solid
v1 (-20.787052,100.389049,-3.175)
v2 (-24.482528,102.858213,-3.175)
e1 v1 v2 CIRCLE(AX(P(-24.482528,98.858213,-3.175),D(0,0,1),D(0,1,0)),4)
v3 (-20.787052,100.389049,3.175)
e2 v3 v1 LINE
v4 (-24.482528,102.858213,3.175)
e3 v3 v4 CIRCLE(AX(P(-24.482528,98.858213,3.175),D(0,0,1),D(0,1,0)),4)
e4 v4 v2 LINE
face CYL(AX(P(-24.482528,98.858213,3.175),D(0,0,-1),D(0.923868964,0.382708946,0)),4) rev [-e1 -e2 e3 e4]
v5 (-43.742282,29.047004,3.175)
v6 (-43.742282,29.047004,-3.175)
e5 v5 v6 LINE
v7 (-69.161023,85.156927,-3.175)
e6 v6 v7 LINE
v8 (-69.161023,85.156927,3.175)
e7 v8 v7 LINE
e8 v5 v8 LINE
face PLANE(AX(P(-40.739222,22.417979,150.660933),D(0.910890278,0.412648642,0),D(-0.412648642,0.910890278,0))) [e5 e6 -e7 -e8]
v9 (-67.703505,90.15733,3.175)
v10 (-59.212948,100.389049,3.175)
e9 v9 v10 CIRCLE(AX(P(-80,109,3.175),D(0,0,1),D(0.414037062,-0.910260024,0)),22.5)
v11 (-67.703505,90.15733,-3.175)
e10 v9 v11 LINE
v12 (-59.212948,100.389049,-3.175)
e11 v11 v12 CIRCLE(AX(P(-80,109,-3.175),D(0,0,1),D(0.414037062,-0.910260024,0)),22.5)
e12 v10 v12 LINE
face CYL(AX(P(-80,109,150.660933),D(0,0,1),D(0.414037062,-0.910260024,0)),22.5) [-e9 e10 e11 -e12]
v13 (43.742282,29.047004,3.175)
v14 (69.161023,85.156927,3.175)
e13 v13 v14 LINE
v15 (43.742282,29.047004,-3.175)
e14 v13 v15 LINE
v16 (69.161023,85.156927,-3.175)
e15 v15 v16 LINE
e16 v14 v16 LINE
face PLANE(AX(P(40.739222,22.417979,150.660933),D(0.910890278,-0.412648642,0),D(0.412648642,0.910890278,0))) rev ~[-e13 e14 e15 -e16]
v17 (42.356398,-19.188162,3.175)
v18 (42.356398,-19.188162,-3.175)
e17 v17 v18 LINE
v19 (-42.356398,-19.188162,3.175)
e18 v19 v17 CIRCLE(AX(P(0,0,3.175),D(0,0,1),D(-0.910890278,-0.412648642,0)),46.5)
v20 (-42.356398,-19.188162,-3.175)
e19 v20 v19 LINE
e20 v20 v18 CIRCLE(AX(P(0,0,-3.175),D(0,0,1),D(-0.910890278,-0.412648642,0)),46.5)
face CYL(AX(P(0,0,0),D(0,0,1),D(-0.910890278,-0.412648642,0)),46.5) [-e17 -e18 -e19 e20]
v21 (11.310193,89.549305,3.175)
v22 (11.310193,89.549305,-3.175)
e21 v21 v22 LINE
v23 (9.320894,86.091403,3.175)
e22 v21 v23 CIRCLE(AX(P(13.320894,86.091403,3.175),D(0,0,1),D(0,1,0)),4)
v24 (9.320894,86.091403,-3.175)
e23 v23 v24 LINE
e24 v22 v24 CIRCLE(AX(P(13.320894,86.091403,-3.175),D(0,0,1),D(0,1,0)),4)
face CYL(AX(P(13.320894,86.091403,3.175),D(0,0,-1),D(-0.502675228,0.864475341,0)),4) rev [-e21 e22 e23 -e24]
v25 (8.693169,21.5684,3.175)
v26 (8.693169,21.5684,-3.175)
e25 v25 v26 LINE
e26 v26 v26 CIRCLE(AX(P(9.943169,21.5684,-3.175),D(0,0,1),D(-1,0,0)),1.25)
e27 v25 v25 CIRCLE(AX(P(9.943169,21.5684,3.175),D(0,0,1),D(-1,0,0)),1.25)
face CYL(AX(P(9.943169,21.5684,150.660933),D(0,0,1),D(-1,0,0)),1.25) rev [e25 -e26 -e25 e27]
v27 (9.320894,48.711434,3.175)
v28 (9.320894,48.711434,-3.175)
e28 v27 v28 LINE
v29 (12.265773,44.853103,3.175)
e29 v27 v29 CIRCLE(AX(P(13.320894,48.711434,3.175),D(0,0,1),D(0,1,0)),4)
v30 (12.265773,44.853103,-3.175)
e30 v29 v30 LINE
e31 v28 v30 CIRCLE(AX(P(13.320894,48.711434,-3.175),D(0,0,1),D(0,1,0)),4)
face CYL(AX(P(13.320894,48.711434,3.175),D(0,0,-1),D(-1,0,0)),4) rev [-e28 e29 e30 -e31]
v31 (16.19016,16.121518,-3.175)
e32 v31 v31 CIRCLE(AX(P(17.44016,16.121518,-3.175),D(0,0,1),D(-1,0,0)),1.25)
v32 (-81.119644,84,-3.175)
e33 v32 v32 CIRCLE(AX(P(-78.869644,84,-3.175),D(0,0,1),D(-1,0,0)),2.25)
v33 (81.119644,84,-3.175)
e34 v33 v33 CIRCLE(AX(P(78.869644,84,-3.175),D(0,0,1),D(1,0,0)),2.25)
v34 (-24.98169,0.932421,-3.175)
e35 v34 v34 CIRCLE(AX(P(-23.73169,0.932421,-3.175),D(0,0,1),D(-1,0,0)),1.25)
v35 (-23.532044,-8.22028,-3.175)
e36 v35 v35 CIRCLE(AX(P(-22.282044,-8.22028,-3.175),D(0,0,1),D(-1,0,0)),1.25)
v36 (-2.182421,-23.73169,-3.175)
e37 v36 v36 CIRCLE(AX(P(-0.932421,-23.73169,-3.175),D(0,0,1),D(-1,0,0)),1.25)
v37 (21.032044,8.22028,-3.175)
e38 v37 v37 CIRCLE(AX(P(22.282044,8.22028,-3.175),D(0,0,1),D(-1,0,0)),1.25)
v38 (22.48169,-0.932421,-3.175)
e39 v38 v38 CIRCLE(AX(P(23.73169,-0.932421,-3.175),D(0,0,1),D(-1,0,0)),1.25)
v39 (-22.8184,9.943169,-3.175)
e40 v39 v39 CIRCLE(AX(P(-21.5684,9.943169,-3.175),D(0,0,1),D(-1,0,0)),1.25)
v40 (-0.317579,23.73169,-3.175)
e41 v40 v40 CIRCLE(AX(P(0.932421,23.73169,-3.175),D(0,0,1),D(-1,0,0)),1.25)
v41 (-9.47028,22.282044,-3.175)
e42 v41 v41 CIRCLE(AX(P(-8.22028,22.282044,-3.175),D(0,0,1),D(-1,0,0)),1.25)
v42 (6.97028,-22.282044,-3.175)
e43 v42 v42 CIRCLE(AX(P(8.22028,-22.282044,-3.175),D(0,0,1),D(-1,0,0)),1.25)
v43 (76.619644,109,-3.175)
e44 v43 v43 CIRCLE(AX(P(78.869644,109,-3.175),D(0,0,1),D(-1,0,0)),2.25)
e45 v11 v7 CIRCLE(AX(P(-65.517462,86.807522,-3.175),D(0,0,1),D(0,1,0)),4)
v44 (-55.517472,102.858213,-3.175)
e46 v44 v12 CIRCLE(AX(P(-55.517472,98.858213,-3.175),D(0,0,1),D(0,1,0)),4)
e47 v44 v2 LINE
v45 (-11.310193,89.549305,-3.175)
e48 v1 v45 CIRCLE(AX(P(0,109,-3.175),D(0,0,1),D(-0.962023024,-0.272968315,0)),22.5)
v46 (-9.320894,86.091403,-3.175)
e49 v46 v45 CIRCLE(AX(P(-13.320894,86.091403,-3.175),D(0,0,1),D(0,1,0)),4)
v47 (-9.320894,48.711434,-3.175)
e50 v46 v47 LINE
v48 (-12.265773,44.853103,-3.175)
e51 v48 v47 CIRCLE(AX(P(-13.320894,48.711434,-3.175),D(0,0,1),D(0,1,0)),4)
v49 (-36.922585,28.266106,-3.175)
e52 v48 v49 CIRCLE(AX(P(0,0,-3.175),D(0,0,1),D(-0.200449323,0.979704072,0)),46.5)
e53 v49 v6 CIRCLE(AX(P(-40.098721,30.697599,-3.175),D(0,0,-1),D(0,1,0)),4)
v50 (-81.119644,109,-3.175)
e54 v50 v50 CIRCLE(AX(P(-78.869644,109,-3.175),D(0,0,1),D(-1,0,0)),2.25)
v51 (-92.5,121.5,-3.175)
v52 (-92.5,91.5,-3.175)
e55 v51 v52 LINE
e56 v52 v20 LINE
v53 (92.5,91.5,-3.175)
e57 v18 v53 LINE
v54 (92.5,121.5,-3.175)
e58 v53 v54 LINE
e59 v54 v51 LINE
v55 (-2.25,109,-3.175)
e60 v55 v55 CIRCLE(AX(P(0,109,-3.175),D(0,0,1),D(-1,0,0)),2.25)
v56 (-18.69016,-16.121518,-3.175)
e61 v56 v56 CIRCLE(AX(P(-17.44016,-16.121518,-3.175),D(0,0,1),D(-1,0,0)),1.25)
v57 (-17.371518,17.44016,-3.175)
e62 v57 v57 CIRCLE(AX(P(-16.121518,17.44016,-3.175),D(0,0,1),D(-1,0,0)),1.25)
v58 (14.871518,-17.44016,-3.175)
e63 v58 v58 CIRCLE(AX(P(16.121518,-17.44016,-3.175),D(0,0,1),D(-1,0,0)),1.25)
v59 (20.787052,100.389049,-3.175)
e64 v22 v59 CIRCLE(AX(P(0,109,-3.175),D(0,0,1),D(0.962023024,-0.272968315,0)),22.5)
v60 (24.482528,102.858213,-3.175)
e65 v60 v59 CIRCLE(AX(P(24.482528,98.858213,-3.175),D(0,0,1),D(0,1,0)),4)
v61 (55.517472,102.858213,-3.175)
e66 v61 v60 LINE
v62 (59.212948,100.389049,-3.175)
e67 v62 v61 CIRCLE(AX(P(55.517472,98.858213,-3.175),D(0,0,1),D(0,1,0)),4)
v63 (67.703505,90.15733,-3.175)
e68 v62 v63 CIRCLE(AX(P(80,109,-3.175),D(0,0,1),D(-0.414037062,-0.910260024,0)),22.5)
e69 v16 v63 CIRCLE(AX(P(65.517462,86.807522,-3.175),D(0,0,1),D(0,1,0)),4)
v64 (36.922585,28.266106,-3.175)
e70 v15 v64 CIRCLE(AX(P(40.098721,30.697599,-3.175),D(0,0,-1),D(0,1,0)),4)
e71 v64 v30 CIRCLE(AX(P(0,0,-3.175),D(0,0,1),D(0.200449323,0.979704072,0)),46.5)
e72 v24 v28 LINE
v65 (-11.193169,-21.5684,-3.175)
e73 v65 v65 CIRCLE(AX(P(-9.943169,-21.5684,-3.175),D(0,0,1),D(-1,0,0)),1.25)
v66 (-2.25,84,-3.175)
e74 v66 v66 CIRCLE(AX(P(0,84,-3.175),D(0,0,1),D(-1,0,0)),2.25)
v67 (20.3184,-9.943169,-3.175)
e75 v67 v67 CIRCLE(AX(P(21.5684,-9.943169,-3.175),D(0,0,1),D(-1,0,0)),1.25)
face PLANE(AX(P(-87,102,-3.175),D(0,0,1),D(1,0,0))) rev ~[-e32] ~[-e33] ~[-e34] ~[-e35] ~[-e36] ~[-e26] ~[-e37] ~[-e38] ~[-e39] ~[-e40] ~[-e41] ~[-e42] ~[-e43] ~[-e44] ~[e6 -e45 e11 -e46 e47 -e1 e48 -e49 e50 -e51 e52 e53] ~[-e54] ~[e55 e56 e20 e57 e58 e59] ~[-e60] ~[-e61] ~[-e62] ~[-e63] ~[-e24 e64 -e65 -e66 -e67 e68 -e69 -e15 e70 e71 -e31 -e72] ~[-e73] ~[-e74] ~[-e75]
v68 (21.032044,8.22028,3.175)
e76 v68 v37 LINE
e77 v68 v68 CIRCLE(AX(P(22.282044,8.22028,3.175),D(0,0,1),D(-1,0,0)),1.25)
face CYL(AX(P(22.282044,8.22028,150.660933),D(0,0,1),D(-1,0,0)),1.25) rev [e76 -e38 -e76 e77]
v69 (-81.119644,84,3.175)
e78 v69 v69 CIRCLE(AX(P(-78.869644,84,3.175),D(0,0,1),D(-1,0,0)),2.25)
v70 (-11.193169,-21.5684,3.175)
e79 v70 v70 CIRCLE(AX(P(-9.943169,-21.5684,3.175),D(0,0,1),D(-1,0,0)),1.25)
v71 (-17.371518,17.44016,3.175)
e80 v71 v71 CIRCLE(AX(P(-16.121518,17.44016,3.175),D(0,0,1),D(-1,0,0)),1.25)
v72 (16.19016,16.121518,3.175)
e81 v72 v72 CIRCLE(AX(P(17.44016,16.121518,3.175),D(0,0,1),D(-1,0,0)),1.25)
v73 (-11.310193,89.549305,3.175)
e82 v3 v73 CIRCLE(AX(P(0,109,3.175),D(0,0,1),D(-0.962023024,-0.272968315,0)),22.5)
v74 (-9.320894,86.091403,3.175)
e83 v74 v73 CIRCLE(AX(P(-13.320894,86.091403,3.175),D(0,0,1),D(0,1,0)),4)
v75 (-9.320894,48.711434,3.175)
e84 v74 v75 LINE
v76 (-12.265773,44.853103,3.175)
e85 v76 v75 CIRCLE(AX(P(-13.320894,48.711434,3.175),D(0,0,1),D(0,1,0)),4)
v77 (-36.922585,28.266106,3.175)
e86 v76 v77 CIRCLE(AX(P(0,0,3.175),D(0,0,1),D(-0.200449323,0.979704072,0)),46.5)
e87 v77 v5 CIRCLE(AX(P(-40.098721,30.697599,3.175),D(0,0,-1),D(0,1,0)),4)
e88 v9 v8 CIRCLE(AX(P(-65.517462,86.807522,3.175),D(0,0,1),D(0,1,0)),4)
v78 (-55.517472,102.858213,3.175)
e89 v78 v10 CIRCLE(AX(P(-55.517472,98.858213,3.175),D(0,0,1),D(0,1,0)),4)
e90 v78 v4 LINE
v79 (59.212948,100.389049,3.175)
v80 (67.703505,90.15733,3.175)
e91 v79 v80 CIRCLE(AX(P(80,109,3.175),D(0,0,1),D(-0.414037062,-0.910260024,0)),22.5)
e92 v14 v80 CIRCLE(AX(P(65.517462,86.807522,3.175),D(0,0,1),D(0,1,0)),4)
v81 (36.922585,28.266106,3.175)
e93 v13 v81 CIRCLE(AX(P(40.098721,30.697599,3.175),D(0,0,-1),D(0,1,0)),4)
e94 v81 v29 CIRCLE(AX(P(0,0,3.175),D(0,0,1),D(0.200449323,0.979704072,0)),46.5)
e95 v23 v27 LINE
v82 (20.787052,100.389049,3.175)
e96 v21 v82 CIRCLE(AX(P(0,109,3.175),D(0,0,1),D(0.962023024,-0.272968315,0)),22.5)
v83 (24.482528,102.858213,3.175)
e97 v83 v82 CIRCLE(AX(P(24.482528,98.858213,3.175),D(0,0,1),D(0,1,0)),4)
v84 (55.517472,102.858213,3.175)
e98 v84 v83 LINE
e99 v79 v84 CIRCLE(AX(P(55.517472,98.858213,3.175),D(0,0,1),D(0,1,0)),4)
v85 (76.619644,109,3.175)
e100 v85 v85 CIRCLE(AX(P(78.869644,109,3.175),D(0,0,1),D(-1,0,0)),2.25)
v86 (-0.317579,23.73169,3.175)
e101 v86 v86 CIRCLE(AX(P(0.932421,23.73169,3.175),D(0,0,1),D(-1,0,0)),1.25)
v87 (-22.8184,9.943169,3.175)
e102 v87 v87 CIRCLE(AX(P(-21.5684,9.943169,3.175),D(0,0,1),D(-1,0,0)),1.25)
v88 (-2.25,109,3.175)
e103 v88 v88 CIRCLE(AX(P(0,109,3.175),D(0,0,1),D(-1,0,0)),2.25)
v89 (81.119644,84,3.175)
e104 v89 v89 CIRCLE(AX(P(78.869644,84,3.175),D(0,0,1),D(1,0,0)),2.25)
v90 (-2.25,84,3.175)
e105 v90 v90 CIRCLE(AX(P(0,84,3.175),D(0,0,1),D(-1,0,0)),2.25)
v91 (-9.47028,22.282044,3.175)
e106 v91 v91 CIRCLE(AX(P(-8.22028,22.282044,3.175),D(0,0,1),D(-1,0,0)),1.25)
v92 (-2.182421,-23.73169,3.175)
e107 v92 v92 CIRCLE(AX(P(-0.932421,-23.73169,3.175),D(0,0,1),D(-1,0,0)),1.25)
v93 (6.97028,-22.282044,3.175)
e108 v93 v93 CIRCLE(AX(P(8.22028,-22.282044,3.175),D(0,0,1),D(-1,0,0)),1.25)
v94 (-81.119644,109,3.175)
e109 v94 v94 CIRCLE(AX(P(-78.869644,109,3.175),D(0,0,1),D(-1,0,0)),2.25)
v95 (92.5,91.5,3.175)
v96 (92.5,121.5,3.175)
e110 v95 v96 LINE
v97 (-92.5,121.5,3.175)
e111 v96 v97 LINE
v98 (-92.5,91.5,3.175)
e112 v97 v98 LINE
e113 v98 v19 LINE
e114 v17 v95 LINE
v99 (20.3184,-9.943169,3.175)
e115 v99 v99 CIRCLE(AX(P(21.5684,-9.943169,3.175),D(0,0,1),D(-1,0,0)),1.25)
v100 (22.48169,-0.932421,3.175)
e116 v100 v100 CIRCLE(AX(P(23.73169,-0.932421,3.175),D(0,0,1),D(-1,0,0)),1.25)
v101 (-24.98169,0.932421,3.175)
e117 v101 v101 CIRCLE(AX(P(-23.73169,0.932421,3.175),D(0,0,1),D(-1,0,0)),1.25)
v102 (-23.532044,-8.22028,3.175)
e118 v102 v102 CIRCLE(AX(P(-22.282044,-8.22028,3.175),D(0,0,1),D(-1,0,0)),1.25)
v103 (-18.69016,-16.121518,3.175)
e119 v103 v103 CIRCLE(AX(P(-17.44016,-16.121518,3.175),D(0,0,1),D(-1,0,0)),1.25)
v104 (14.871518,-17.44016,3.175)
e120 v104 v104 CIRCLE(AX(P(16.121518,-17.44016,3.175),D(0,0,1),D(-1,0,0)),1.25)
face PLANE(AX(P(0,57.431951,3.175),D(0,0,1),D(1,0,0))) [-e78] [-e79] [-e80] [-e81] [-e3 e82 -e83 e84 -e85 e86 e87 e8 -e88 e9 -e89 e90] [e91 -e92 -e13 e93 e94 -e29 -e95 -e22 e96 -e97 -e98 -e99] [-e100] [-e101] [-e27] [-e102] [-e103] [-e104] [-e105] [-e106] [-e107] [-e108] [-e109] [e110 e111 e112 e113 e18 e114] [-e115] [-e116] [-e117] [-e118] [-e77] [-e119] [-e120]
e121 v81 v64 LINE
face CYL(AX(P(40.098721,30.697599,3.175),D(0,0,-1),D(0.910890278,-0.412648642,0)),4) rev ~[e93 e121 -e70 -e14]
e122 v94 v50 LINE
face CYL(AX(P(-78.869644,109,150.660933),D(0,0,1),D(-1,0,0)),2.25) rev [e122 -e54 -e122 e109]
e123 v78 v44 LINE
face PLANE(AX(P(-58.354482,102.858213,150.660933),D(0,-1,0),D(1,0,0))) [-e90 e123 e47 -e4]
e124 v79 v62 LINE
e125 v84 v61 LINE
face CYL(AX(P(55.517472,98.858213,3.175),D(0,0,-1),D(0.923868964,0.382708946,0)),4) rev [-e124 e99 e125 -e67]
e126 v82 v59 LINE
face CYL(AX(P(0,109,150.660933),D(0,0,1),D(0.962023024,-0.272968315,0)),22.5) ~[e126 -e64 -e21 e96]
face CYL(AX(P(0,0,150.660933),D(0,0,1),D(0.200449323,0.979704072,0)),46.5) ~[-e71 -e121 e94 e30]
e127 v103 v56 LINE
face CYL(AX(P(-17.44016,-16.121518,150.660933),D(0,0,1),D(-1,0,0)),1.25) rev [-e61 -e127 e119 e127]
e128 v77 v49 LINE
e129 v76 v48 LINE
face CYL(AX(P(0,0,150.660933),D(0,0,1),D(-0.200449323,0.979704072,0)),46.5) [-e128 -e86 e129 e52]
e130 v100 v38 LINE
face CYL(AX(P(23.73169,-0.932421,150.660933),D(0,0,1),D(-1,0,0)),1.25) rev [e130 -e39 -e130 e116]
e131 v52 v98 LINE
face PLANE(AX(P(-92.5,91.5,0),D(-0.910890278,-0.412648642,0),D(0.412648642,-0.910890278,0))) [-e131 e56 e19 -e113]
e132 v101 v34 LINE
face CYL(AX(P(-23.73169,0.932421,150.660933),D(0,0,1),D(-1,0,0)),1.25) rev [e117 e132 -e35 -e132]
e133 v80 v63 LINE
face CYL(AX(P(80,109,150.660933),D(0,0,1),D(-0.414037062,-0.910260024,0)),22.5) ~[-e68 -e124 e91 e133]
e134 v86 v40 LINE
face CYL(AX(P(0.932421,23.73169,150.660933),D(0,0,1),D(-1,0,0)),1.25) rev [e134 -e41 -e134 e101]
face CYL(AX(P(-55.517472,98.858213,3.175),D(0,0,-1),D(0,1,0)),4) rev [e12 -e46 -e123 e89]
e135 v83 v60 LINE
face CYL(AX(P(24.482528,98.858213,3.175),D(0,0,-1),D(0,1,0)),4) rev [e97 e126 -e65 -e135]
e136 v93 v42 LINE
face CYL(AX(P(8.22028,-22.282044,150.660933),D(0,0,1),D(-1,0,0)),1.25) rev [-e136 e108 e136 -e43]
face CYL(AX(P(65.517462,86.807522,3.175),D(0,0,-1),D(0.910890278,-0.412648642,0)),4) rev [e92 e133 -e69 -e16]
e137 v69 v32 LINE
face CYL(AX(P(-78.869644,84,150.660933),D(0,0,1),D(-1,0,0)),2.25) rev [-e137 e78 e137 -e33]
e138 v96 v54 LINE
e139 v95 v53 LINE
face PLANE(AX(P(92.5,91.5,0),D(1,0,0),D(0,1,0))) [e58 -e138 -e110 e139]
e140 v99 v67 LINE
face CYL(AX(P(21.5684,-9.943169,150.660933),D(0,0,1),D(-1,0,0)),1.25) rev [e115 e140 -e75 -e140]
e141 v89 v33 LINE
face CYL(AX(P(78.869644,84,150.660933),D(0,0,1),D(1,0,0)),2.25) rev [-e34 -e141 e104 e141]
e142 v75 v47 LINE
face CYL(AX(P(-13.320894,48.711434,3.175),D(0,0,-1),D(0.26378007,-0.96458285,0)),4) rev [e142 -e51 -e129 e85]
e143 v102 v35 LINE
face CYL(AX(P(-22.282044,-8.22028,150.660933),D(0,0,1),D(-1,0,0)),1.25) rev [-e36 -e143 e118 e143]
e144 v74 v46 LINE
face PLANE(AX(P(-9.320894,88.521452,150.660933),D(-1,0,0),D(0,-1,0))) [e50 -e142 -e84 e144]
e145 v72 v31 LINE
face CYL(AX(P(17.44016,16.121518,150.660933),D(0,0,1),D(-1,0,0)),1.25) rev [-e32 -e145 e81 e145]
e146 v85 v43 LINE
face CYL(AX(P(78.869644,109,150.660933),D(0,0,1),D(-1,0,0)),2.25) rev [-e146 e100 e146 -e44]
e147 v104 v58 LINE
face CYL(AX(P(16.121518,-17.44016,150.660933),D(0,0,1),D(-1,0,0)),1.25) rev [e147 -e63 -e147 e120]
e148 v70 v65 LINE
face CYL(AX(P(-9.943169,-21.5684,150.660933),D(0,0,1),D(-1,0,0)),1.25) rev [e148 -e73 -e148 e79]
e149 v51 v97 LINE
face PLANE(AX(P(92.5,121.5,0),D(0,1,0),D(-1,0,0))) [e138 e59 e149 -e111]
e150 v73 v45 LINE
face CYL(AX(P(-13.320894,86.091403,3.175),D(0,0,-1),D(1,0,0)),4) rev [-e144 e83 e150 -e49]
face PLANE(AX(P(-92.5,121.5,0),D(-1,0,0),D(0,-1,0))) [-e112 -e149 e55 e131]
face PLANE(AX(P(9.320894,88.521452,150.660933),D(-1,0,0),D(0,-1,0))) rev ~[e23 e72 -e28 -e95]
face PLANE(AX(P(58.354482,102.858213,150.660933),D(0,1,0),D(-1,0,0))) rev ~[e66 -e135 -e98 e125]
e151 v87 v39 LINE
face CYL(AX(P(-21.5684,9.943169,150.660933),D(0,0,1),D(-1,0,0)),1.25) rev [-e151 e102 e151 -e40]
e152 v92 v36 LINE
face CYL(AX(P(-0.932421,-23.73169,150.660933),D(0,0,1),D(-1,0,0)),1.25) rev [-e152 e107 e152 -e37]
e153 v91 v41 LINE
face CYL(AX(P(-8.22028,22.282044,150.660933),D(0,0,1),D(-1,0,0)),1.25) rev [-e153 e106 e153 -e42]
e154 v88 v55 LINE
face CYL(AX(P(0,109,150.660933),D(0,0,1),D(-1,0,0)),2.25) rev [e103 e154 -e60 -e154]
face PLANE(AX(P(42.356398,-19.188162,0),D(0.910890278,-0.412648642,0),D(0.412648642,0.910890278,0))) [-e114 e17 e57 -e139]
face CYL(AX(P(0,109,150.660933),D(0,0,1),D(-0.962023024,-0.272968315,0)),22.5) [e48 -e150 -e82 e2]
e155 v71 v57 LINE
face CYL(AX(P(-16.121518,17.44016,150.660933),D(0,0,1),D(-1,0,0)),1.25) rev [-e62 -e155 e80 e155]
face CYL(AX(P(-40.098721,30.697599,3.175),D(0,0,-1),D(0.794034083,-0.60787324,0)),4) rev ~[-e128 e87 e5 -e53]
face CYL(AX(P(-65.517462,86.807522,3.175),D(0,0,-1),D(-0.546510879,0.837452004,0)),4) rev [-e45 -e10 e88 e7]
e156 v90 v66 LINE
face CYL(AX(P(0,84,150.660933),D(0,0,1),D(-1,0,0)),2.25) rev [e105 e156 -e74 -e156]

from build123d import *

# Parameters (mm, degrees)
BOSS_EXTRUDE1_DEPTH     = 3.175
CUT_EXTRUDE2_DEPTH      = 153.835933275
CUT_EXTRUDE2_DEPTH_BACK = 153.835933275
SKETCH3_R               = 1.25
CUT_EXTRUDE6_DEPTH      = 153.835933275
CUT_EXTRUDE6_DEPTH_BACK = 153.835933275
SKETCH12_R              = 2.25
CUT_EXTRUDE7_DEPTH      = 153.835933275
CUT_EXTRUDE7_DEPTH_BACK = 153.835933275
FILLET4_R               = 4
BOSS_EXTRUDE2_START     = -6.35
SKETCH16_R              = 2.25
BOSS_EXTRUDE2_DEPTH     = 6.35
CUT_EXTRUDE8_DEPTH      = 153.835933275
CUT_EXTRUDE8_DEPTH_BACK = 153.835933275
SKETCH17_R              = 2.25


with BuildPart() as part:
    # Sketch1 → Boss-Extrude1 (new, symmetric)
    with BuildSketch(Plane.XY):
        with BuildLine():
            Line((92.5, 121.5), (-92.5, 121.5))
            Line((-92.5, 121.5), (-92.5, 91.5))
            Line((-92.5, 91.5), (-42.356397926, -19.188161838))
            ThreePointArc((-42.356397926, -19.188161838), (0, -46.5), (42.356397926, -19.188161838))
            Line((42.356397926, -19.188161838), (92.5, 91.5))
            Line((92.5, 91.5), (92.5, 121.5))
        make_face()
    extrude(amount=BOSS_EXTRUDE1_DEPTH, both=True)

    # Sketch3 → Cut-Extrude2 (cut, two sides: drawn at the far end of the back side and taken through both)
    with BuildSketch(Plane(origin=(0, 0, -3.175), x_dir=(-1, 0, 0), z_dir=(0, 0, -1)).offset(-CUT_EXTRUDE2_DEPTH_BACK)):
        with Locations((17.440159599, -16.121517706)):
            Circle(SKETCH3_R)
        with Locations((22.282044228, -8.220280106)):
            Circle(SKETCH3_R)
        with Locations((9.943168767, -21.568400378)):
            Circle(SKETCH3_R)
        with Locations((0.932420624, -23.731689611)):
            Circle(SKETCH3_R)
        with Locations((-8.220280106, -22.282044228)):
            Circle(SKETCH3_R)
        with Locations((-16.121517706, -17.440159599)):
            Circle(SKETCH3_R)
        with Locations((-21.568400378, -9.943168767)):
            Circle(SKETCH3_R)
        with Locations((-23.731689611, -0.932420624)):
            Circle(SKETCH3_R)
        with Locations((-22.282044228, 8.220280106)):
            Circle(SKETCH3_R)
        with Locations((-17.440159599, 16.121517706)):
            Circle(SKETCH3_R)
        with Locations((-9.943168767, 21.568400378)):
            Circle(SKETCH3_R)
        with Locations((-0.932420624, 23.731689611)):
            Circle(SKETCH3_R)
        with Locations((8.220280106, 22.282044228)):
            Circle(SKETCH3_R)
        with Locations((16.121517706, 17.440159599)):
            Circle(SKETCH3_R)
        with Locations((21.568400378, 9.943168767)):
            Circle(SKETCH3_R)
        with Locations((23.731689611, 0.932420624)):
            Circle(SKETCH3_R)
    extrude(amount=CUT_EXTRUDE2_DEPTH + CUT_EXTRUDE2_DEPTH_BACK, mode=Mode.SUBTRACT)

    # Sketch12 → Cut-Extrude6 (cut, two sides: drawn at the far end of the back side and taken through both)
    with BuildSketch(Plane(origin=(0, 0, -3.175), x_dir=(-1, 0, 0), z_dir=(0, 0, -1)).offset(-CUT_EXTRUDE6_DEPTH_BACK)):
        with Locations((-7, 102)):
            Circle(SKETCH12_R)
        with Locations((7, 102)):
            Circle(SKETCH12_R)
        with Locations((7, 116)):
            Circle(SKETCH12_R)
        with Locations((-87, 116)):
            Circle(SKETCH12_R)
        with Locations((-73, 116)):
            Circle(SKETCH12_R)
        with Locations((-73, 102)):
            Circle(SKETCH12_R)
        with Locations((-87, 102)):
            Circle(SKETCH12_R)
        with Locations(Location((87, 102, 0), (0, 0, 180))):
            Circle(SKETCH12_R)
        with Locations(Location((73, 102, 0), (0, 0, 180))):
            Circle(SKETCH12_R)
        with Locations(Location((73, 116, 0), (0, 0, 180))):
            Circle(SKETCH12_R)
        with Locations(Location((87, 116, 0), (0, 0, 180))):
            Circle(SKETCH12_R)
        with Locations((-7, 116)):
            Circle(SKETCH12_R)
    extrude(amount=CUT_EXTRUDE6_DEPTH + CUT_EXTRUDE6_DEPTH_BACK, mode=Mode.SUBTRACT)

    # Sketch13 → Cut-Extrude7 (cut, two sides: drawn at the far end of the back side and taken through both)
    with BuildSketch(Plane(origin=(0, 0, -3.175), x_dir=(-1, 0, 0), z_dir=(0, 0, -1)).offset(-CUT_EXTRUDE7_DEPTH_BACK)):
        with BuildLine():
            Line((-40.739222198, 22.417978828), (-70.6841661, 88.519149462))
            ThreePointArc((-70.6841661, 88.519149462), (-62.939709446, 94.330423107), (-58.354481954, 102.85821292))
            Line((-58.354481954, 102.85821292), (-21.645518046, 102.85821292))
            ThreePointArc((-21.645518046, 102.85821292), (-17.06210253, 94.332530646), (-9.32089354, 88.521451623))
            Line((-9.32089354, 88.521451623), (-9.32089354, 45.556239349))
            ThreePointArc((-9.32089354, 45.556239349), (-27.574418795, 37.441974148), (-40.739222198, 22.417978828))
        make_face()
        with BuildLine():
            Line((40.739222198, 22.417978828), (70.6841661, 88.519149462))
            ThreePointArc((70.6841661, 88.519149462), (62.939709446, 94.330423107), (58.354481954, 102.85821292))
            Line((58.354481954, 102.85821292), (21.645518046, 102.85821292))
            ThreePointArc((21.645518046, 102.85821292), (17.06210253, 94.332530646), (9.32089354, 88.521451623))
            Line((9.32089354, 88.521451623), (9.32089354, 45.556239349))
            ThreePointArc((9.32089354, 45.556239349), (27.574418795, 37.441974148), (40.739222198, 22.417978828))
        make_face()
    extrude(amount=CUT_EXTRUDE7_DEPTH + CUT_EXTRUDE7_DEPTH_BACK, mode=Mode.SUBTRACT)

    # Fillet4
    fillet4_edges = [part.edges().sort_by_distance(p)[0] for p in [
        (-58.354481954, 102.85821292, 0),
        (-70.6841661, 88.519149462, 0),
        (-40.739222198, 22.417978828, 0),
        (-9.32089354, 45.556239349, 0),
        (-9.32089354, 88.521451623, 0),
        (-21.645518046, 102.85821292, 0),
        (70.6841661, 88.519149462, 0),
        (58.354481954, 102.85821292, 0),
        (21.645518046, 102.85821292, 0),
        (9.32089354, 88.521451623, 0),
        (9.32089354, 45.556239349, 0),
        (40.739222198, 22.417978828, 0),
    ]]
    fillet(fillet4_edges, radius=FILLET4_R)

    # Sketch16 → Boss-Extrude2 (add)
    with BuildSketch(Plane.XY.offset(3.175).offset(BOSS_EXTRUDE2_START)):
        with Locations((-87, 102)):
            Circle(SKETCH16_R)
        with Locations((-87, 116)):
            Circle(SKETCH16_R)
        with Locations((-73, 116)):
            Circle(SKETCH16_R)
        with Locations((-73, 102)):
            Circle(SKETCH16_R)
        with Locations((-7, 116)):
            Circle(SKETCH16_R)
        with Locations((7, 116)):
            Circle(SKETCH16_R)
        with Locations((-7, 102)):
            Circle(SKETCH16_R)
        with Locations((7, 102)):
            Circle(SKETCH16_R)
        with Locations((73, 102)):
            Circle(SKETCH16_R)
        with Locations((87, 102)):
            Circle(SKETCH16_R)
        with Locations((73, 116)):
            Circle(SKETCH16_R)
        with Locations((87, 116)):
            Circle(SKETCH16_R)
    extrude(amount=BOSS_EXTRUDE2_DEPTH)

    # Sketch17 → Cut-Extrude8 (cut, two sides: drawn at the far end of the back side and taken through both)
    with BuildSketch(Plane(origin=(0, 0, -3.175), x_dir=(-1, 0, 0), z_dir=(0, 0, -1)).offset(-CUT_EXTRUDE8_DEPTH_BACK)):
        with Locations((78.869644454, 84)):
            Circle(SKETCH17_R)
        with Locations((0, 84)):
            Circle(SKETCH17_R)
        with Locations(Location((-78.869644454, 84, 0), (0, 0, 180))):
            Circle(SKETCH17_R)
        with Locations((0, 109)):
            Circle(SKETCH17_R)
        with Locations((-78.869644454, 109)):
            Circle(SKETCH17_R)
        with Locations((78.869644454, 109)):
            Circle(SKETCH17_R)
    extrude(amount=CUT_EXTRUDE8_DEPTH + CUT_EXTRUDE8_DEPTH_BACK, mode=Mode.SUBTRACT)


solid = part.part
